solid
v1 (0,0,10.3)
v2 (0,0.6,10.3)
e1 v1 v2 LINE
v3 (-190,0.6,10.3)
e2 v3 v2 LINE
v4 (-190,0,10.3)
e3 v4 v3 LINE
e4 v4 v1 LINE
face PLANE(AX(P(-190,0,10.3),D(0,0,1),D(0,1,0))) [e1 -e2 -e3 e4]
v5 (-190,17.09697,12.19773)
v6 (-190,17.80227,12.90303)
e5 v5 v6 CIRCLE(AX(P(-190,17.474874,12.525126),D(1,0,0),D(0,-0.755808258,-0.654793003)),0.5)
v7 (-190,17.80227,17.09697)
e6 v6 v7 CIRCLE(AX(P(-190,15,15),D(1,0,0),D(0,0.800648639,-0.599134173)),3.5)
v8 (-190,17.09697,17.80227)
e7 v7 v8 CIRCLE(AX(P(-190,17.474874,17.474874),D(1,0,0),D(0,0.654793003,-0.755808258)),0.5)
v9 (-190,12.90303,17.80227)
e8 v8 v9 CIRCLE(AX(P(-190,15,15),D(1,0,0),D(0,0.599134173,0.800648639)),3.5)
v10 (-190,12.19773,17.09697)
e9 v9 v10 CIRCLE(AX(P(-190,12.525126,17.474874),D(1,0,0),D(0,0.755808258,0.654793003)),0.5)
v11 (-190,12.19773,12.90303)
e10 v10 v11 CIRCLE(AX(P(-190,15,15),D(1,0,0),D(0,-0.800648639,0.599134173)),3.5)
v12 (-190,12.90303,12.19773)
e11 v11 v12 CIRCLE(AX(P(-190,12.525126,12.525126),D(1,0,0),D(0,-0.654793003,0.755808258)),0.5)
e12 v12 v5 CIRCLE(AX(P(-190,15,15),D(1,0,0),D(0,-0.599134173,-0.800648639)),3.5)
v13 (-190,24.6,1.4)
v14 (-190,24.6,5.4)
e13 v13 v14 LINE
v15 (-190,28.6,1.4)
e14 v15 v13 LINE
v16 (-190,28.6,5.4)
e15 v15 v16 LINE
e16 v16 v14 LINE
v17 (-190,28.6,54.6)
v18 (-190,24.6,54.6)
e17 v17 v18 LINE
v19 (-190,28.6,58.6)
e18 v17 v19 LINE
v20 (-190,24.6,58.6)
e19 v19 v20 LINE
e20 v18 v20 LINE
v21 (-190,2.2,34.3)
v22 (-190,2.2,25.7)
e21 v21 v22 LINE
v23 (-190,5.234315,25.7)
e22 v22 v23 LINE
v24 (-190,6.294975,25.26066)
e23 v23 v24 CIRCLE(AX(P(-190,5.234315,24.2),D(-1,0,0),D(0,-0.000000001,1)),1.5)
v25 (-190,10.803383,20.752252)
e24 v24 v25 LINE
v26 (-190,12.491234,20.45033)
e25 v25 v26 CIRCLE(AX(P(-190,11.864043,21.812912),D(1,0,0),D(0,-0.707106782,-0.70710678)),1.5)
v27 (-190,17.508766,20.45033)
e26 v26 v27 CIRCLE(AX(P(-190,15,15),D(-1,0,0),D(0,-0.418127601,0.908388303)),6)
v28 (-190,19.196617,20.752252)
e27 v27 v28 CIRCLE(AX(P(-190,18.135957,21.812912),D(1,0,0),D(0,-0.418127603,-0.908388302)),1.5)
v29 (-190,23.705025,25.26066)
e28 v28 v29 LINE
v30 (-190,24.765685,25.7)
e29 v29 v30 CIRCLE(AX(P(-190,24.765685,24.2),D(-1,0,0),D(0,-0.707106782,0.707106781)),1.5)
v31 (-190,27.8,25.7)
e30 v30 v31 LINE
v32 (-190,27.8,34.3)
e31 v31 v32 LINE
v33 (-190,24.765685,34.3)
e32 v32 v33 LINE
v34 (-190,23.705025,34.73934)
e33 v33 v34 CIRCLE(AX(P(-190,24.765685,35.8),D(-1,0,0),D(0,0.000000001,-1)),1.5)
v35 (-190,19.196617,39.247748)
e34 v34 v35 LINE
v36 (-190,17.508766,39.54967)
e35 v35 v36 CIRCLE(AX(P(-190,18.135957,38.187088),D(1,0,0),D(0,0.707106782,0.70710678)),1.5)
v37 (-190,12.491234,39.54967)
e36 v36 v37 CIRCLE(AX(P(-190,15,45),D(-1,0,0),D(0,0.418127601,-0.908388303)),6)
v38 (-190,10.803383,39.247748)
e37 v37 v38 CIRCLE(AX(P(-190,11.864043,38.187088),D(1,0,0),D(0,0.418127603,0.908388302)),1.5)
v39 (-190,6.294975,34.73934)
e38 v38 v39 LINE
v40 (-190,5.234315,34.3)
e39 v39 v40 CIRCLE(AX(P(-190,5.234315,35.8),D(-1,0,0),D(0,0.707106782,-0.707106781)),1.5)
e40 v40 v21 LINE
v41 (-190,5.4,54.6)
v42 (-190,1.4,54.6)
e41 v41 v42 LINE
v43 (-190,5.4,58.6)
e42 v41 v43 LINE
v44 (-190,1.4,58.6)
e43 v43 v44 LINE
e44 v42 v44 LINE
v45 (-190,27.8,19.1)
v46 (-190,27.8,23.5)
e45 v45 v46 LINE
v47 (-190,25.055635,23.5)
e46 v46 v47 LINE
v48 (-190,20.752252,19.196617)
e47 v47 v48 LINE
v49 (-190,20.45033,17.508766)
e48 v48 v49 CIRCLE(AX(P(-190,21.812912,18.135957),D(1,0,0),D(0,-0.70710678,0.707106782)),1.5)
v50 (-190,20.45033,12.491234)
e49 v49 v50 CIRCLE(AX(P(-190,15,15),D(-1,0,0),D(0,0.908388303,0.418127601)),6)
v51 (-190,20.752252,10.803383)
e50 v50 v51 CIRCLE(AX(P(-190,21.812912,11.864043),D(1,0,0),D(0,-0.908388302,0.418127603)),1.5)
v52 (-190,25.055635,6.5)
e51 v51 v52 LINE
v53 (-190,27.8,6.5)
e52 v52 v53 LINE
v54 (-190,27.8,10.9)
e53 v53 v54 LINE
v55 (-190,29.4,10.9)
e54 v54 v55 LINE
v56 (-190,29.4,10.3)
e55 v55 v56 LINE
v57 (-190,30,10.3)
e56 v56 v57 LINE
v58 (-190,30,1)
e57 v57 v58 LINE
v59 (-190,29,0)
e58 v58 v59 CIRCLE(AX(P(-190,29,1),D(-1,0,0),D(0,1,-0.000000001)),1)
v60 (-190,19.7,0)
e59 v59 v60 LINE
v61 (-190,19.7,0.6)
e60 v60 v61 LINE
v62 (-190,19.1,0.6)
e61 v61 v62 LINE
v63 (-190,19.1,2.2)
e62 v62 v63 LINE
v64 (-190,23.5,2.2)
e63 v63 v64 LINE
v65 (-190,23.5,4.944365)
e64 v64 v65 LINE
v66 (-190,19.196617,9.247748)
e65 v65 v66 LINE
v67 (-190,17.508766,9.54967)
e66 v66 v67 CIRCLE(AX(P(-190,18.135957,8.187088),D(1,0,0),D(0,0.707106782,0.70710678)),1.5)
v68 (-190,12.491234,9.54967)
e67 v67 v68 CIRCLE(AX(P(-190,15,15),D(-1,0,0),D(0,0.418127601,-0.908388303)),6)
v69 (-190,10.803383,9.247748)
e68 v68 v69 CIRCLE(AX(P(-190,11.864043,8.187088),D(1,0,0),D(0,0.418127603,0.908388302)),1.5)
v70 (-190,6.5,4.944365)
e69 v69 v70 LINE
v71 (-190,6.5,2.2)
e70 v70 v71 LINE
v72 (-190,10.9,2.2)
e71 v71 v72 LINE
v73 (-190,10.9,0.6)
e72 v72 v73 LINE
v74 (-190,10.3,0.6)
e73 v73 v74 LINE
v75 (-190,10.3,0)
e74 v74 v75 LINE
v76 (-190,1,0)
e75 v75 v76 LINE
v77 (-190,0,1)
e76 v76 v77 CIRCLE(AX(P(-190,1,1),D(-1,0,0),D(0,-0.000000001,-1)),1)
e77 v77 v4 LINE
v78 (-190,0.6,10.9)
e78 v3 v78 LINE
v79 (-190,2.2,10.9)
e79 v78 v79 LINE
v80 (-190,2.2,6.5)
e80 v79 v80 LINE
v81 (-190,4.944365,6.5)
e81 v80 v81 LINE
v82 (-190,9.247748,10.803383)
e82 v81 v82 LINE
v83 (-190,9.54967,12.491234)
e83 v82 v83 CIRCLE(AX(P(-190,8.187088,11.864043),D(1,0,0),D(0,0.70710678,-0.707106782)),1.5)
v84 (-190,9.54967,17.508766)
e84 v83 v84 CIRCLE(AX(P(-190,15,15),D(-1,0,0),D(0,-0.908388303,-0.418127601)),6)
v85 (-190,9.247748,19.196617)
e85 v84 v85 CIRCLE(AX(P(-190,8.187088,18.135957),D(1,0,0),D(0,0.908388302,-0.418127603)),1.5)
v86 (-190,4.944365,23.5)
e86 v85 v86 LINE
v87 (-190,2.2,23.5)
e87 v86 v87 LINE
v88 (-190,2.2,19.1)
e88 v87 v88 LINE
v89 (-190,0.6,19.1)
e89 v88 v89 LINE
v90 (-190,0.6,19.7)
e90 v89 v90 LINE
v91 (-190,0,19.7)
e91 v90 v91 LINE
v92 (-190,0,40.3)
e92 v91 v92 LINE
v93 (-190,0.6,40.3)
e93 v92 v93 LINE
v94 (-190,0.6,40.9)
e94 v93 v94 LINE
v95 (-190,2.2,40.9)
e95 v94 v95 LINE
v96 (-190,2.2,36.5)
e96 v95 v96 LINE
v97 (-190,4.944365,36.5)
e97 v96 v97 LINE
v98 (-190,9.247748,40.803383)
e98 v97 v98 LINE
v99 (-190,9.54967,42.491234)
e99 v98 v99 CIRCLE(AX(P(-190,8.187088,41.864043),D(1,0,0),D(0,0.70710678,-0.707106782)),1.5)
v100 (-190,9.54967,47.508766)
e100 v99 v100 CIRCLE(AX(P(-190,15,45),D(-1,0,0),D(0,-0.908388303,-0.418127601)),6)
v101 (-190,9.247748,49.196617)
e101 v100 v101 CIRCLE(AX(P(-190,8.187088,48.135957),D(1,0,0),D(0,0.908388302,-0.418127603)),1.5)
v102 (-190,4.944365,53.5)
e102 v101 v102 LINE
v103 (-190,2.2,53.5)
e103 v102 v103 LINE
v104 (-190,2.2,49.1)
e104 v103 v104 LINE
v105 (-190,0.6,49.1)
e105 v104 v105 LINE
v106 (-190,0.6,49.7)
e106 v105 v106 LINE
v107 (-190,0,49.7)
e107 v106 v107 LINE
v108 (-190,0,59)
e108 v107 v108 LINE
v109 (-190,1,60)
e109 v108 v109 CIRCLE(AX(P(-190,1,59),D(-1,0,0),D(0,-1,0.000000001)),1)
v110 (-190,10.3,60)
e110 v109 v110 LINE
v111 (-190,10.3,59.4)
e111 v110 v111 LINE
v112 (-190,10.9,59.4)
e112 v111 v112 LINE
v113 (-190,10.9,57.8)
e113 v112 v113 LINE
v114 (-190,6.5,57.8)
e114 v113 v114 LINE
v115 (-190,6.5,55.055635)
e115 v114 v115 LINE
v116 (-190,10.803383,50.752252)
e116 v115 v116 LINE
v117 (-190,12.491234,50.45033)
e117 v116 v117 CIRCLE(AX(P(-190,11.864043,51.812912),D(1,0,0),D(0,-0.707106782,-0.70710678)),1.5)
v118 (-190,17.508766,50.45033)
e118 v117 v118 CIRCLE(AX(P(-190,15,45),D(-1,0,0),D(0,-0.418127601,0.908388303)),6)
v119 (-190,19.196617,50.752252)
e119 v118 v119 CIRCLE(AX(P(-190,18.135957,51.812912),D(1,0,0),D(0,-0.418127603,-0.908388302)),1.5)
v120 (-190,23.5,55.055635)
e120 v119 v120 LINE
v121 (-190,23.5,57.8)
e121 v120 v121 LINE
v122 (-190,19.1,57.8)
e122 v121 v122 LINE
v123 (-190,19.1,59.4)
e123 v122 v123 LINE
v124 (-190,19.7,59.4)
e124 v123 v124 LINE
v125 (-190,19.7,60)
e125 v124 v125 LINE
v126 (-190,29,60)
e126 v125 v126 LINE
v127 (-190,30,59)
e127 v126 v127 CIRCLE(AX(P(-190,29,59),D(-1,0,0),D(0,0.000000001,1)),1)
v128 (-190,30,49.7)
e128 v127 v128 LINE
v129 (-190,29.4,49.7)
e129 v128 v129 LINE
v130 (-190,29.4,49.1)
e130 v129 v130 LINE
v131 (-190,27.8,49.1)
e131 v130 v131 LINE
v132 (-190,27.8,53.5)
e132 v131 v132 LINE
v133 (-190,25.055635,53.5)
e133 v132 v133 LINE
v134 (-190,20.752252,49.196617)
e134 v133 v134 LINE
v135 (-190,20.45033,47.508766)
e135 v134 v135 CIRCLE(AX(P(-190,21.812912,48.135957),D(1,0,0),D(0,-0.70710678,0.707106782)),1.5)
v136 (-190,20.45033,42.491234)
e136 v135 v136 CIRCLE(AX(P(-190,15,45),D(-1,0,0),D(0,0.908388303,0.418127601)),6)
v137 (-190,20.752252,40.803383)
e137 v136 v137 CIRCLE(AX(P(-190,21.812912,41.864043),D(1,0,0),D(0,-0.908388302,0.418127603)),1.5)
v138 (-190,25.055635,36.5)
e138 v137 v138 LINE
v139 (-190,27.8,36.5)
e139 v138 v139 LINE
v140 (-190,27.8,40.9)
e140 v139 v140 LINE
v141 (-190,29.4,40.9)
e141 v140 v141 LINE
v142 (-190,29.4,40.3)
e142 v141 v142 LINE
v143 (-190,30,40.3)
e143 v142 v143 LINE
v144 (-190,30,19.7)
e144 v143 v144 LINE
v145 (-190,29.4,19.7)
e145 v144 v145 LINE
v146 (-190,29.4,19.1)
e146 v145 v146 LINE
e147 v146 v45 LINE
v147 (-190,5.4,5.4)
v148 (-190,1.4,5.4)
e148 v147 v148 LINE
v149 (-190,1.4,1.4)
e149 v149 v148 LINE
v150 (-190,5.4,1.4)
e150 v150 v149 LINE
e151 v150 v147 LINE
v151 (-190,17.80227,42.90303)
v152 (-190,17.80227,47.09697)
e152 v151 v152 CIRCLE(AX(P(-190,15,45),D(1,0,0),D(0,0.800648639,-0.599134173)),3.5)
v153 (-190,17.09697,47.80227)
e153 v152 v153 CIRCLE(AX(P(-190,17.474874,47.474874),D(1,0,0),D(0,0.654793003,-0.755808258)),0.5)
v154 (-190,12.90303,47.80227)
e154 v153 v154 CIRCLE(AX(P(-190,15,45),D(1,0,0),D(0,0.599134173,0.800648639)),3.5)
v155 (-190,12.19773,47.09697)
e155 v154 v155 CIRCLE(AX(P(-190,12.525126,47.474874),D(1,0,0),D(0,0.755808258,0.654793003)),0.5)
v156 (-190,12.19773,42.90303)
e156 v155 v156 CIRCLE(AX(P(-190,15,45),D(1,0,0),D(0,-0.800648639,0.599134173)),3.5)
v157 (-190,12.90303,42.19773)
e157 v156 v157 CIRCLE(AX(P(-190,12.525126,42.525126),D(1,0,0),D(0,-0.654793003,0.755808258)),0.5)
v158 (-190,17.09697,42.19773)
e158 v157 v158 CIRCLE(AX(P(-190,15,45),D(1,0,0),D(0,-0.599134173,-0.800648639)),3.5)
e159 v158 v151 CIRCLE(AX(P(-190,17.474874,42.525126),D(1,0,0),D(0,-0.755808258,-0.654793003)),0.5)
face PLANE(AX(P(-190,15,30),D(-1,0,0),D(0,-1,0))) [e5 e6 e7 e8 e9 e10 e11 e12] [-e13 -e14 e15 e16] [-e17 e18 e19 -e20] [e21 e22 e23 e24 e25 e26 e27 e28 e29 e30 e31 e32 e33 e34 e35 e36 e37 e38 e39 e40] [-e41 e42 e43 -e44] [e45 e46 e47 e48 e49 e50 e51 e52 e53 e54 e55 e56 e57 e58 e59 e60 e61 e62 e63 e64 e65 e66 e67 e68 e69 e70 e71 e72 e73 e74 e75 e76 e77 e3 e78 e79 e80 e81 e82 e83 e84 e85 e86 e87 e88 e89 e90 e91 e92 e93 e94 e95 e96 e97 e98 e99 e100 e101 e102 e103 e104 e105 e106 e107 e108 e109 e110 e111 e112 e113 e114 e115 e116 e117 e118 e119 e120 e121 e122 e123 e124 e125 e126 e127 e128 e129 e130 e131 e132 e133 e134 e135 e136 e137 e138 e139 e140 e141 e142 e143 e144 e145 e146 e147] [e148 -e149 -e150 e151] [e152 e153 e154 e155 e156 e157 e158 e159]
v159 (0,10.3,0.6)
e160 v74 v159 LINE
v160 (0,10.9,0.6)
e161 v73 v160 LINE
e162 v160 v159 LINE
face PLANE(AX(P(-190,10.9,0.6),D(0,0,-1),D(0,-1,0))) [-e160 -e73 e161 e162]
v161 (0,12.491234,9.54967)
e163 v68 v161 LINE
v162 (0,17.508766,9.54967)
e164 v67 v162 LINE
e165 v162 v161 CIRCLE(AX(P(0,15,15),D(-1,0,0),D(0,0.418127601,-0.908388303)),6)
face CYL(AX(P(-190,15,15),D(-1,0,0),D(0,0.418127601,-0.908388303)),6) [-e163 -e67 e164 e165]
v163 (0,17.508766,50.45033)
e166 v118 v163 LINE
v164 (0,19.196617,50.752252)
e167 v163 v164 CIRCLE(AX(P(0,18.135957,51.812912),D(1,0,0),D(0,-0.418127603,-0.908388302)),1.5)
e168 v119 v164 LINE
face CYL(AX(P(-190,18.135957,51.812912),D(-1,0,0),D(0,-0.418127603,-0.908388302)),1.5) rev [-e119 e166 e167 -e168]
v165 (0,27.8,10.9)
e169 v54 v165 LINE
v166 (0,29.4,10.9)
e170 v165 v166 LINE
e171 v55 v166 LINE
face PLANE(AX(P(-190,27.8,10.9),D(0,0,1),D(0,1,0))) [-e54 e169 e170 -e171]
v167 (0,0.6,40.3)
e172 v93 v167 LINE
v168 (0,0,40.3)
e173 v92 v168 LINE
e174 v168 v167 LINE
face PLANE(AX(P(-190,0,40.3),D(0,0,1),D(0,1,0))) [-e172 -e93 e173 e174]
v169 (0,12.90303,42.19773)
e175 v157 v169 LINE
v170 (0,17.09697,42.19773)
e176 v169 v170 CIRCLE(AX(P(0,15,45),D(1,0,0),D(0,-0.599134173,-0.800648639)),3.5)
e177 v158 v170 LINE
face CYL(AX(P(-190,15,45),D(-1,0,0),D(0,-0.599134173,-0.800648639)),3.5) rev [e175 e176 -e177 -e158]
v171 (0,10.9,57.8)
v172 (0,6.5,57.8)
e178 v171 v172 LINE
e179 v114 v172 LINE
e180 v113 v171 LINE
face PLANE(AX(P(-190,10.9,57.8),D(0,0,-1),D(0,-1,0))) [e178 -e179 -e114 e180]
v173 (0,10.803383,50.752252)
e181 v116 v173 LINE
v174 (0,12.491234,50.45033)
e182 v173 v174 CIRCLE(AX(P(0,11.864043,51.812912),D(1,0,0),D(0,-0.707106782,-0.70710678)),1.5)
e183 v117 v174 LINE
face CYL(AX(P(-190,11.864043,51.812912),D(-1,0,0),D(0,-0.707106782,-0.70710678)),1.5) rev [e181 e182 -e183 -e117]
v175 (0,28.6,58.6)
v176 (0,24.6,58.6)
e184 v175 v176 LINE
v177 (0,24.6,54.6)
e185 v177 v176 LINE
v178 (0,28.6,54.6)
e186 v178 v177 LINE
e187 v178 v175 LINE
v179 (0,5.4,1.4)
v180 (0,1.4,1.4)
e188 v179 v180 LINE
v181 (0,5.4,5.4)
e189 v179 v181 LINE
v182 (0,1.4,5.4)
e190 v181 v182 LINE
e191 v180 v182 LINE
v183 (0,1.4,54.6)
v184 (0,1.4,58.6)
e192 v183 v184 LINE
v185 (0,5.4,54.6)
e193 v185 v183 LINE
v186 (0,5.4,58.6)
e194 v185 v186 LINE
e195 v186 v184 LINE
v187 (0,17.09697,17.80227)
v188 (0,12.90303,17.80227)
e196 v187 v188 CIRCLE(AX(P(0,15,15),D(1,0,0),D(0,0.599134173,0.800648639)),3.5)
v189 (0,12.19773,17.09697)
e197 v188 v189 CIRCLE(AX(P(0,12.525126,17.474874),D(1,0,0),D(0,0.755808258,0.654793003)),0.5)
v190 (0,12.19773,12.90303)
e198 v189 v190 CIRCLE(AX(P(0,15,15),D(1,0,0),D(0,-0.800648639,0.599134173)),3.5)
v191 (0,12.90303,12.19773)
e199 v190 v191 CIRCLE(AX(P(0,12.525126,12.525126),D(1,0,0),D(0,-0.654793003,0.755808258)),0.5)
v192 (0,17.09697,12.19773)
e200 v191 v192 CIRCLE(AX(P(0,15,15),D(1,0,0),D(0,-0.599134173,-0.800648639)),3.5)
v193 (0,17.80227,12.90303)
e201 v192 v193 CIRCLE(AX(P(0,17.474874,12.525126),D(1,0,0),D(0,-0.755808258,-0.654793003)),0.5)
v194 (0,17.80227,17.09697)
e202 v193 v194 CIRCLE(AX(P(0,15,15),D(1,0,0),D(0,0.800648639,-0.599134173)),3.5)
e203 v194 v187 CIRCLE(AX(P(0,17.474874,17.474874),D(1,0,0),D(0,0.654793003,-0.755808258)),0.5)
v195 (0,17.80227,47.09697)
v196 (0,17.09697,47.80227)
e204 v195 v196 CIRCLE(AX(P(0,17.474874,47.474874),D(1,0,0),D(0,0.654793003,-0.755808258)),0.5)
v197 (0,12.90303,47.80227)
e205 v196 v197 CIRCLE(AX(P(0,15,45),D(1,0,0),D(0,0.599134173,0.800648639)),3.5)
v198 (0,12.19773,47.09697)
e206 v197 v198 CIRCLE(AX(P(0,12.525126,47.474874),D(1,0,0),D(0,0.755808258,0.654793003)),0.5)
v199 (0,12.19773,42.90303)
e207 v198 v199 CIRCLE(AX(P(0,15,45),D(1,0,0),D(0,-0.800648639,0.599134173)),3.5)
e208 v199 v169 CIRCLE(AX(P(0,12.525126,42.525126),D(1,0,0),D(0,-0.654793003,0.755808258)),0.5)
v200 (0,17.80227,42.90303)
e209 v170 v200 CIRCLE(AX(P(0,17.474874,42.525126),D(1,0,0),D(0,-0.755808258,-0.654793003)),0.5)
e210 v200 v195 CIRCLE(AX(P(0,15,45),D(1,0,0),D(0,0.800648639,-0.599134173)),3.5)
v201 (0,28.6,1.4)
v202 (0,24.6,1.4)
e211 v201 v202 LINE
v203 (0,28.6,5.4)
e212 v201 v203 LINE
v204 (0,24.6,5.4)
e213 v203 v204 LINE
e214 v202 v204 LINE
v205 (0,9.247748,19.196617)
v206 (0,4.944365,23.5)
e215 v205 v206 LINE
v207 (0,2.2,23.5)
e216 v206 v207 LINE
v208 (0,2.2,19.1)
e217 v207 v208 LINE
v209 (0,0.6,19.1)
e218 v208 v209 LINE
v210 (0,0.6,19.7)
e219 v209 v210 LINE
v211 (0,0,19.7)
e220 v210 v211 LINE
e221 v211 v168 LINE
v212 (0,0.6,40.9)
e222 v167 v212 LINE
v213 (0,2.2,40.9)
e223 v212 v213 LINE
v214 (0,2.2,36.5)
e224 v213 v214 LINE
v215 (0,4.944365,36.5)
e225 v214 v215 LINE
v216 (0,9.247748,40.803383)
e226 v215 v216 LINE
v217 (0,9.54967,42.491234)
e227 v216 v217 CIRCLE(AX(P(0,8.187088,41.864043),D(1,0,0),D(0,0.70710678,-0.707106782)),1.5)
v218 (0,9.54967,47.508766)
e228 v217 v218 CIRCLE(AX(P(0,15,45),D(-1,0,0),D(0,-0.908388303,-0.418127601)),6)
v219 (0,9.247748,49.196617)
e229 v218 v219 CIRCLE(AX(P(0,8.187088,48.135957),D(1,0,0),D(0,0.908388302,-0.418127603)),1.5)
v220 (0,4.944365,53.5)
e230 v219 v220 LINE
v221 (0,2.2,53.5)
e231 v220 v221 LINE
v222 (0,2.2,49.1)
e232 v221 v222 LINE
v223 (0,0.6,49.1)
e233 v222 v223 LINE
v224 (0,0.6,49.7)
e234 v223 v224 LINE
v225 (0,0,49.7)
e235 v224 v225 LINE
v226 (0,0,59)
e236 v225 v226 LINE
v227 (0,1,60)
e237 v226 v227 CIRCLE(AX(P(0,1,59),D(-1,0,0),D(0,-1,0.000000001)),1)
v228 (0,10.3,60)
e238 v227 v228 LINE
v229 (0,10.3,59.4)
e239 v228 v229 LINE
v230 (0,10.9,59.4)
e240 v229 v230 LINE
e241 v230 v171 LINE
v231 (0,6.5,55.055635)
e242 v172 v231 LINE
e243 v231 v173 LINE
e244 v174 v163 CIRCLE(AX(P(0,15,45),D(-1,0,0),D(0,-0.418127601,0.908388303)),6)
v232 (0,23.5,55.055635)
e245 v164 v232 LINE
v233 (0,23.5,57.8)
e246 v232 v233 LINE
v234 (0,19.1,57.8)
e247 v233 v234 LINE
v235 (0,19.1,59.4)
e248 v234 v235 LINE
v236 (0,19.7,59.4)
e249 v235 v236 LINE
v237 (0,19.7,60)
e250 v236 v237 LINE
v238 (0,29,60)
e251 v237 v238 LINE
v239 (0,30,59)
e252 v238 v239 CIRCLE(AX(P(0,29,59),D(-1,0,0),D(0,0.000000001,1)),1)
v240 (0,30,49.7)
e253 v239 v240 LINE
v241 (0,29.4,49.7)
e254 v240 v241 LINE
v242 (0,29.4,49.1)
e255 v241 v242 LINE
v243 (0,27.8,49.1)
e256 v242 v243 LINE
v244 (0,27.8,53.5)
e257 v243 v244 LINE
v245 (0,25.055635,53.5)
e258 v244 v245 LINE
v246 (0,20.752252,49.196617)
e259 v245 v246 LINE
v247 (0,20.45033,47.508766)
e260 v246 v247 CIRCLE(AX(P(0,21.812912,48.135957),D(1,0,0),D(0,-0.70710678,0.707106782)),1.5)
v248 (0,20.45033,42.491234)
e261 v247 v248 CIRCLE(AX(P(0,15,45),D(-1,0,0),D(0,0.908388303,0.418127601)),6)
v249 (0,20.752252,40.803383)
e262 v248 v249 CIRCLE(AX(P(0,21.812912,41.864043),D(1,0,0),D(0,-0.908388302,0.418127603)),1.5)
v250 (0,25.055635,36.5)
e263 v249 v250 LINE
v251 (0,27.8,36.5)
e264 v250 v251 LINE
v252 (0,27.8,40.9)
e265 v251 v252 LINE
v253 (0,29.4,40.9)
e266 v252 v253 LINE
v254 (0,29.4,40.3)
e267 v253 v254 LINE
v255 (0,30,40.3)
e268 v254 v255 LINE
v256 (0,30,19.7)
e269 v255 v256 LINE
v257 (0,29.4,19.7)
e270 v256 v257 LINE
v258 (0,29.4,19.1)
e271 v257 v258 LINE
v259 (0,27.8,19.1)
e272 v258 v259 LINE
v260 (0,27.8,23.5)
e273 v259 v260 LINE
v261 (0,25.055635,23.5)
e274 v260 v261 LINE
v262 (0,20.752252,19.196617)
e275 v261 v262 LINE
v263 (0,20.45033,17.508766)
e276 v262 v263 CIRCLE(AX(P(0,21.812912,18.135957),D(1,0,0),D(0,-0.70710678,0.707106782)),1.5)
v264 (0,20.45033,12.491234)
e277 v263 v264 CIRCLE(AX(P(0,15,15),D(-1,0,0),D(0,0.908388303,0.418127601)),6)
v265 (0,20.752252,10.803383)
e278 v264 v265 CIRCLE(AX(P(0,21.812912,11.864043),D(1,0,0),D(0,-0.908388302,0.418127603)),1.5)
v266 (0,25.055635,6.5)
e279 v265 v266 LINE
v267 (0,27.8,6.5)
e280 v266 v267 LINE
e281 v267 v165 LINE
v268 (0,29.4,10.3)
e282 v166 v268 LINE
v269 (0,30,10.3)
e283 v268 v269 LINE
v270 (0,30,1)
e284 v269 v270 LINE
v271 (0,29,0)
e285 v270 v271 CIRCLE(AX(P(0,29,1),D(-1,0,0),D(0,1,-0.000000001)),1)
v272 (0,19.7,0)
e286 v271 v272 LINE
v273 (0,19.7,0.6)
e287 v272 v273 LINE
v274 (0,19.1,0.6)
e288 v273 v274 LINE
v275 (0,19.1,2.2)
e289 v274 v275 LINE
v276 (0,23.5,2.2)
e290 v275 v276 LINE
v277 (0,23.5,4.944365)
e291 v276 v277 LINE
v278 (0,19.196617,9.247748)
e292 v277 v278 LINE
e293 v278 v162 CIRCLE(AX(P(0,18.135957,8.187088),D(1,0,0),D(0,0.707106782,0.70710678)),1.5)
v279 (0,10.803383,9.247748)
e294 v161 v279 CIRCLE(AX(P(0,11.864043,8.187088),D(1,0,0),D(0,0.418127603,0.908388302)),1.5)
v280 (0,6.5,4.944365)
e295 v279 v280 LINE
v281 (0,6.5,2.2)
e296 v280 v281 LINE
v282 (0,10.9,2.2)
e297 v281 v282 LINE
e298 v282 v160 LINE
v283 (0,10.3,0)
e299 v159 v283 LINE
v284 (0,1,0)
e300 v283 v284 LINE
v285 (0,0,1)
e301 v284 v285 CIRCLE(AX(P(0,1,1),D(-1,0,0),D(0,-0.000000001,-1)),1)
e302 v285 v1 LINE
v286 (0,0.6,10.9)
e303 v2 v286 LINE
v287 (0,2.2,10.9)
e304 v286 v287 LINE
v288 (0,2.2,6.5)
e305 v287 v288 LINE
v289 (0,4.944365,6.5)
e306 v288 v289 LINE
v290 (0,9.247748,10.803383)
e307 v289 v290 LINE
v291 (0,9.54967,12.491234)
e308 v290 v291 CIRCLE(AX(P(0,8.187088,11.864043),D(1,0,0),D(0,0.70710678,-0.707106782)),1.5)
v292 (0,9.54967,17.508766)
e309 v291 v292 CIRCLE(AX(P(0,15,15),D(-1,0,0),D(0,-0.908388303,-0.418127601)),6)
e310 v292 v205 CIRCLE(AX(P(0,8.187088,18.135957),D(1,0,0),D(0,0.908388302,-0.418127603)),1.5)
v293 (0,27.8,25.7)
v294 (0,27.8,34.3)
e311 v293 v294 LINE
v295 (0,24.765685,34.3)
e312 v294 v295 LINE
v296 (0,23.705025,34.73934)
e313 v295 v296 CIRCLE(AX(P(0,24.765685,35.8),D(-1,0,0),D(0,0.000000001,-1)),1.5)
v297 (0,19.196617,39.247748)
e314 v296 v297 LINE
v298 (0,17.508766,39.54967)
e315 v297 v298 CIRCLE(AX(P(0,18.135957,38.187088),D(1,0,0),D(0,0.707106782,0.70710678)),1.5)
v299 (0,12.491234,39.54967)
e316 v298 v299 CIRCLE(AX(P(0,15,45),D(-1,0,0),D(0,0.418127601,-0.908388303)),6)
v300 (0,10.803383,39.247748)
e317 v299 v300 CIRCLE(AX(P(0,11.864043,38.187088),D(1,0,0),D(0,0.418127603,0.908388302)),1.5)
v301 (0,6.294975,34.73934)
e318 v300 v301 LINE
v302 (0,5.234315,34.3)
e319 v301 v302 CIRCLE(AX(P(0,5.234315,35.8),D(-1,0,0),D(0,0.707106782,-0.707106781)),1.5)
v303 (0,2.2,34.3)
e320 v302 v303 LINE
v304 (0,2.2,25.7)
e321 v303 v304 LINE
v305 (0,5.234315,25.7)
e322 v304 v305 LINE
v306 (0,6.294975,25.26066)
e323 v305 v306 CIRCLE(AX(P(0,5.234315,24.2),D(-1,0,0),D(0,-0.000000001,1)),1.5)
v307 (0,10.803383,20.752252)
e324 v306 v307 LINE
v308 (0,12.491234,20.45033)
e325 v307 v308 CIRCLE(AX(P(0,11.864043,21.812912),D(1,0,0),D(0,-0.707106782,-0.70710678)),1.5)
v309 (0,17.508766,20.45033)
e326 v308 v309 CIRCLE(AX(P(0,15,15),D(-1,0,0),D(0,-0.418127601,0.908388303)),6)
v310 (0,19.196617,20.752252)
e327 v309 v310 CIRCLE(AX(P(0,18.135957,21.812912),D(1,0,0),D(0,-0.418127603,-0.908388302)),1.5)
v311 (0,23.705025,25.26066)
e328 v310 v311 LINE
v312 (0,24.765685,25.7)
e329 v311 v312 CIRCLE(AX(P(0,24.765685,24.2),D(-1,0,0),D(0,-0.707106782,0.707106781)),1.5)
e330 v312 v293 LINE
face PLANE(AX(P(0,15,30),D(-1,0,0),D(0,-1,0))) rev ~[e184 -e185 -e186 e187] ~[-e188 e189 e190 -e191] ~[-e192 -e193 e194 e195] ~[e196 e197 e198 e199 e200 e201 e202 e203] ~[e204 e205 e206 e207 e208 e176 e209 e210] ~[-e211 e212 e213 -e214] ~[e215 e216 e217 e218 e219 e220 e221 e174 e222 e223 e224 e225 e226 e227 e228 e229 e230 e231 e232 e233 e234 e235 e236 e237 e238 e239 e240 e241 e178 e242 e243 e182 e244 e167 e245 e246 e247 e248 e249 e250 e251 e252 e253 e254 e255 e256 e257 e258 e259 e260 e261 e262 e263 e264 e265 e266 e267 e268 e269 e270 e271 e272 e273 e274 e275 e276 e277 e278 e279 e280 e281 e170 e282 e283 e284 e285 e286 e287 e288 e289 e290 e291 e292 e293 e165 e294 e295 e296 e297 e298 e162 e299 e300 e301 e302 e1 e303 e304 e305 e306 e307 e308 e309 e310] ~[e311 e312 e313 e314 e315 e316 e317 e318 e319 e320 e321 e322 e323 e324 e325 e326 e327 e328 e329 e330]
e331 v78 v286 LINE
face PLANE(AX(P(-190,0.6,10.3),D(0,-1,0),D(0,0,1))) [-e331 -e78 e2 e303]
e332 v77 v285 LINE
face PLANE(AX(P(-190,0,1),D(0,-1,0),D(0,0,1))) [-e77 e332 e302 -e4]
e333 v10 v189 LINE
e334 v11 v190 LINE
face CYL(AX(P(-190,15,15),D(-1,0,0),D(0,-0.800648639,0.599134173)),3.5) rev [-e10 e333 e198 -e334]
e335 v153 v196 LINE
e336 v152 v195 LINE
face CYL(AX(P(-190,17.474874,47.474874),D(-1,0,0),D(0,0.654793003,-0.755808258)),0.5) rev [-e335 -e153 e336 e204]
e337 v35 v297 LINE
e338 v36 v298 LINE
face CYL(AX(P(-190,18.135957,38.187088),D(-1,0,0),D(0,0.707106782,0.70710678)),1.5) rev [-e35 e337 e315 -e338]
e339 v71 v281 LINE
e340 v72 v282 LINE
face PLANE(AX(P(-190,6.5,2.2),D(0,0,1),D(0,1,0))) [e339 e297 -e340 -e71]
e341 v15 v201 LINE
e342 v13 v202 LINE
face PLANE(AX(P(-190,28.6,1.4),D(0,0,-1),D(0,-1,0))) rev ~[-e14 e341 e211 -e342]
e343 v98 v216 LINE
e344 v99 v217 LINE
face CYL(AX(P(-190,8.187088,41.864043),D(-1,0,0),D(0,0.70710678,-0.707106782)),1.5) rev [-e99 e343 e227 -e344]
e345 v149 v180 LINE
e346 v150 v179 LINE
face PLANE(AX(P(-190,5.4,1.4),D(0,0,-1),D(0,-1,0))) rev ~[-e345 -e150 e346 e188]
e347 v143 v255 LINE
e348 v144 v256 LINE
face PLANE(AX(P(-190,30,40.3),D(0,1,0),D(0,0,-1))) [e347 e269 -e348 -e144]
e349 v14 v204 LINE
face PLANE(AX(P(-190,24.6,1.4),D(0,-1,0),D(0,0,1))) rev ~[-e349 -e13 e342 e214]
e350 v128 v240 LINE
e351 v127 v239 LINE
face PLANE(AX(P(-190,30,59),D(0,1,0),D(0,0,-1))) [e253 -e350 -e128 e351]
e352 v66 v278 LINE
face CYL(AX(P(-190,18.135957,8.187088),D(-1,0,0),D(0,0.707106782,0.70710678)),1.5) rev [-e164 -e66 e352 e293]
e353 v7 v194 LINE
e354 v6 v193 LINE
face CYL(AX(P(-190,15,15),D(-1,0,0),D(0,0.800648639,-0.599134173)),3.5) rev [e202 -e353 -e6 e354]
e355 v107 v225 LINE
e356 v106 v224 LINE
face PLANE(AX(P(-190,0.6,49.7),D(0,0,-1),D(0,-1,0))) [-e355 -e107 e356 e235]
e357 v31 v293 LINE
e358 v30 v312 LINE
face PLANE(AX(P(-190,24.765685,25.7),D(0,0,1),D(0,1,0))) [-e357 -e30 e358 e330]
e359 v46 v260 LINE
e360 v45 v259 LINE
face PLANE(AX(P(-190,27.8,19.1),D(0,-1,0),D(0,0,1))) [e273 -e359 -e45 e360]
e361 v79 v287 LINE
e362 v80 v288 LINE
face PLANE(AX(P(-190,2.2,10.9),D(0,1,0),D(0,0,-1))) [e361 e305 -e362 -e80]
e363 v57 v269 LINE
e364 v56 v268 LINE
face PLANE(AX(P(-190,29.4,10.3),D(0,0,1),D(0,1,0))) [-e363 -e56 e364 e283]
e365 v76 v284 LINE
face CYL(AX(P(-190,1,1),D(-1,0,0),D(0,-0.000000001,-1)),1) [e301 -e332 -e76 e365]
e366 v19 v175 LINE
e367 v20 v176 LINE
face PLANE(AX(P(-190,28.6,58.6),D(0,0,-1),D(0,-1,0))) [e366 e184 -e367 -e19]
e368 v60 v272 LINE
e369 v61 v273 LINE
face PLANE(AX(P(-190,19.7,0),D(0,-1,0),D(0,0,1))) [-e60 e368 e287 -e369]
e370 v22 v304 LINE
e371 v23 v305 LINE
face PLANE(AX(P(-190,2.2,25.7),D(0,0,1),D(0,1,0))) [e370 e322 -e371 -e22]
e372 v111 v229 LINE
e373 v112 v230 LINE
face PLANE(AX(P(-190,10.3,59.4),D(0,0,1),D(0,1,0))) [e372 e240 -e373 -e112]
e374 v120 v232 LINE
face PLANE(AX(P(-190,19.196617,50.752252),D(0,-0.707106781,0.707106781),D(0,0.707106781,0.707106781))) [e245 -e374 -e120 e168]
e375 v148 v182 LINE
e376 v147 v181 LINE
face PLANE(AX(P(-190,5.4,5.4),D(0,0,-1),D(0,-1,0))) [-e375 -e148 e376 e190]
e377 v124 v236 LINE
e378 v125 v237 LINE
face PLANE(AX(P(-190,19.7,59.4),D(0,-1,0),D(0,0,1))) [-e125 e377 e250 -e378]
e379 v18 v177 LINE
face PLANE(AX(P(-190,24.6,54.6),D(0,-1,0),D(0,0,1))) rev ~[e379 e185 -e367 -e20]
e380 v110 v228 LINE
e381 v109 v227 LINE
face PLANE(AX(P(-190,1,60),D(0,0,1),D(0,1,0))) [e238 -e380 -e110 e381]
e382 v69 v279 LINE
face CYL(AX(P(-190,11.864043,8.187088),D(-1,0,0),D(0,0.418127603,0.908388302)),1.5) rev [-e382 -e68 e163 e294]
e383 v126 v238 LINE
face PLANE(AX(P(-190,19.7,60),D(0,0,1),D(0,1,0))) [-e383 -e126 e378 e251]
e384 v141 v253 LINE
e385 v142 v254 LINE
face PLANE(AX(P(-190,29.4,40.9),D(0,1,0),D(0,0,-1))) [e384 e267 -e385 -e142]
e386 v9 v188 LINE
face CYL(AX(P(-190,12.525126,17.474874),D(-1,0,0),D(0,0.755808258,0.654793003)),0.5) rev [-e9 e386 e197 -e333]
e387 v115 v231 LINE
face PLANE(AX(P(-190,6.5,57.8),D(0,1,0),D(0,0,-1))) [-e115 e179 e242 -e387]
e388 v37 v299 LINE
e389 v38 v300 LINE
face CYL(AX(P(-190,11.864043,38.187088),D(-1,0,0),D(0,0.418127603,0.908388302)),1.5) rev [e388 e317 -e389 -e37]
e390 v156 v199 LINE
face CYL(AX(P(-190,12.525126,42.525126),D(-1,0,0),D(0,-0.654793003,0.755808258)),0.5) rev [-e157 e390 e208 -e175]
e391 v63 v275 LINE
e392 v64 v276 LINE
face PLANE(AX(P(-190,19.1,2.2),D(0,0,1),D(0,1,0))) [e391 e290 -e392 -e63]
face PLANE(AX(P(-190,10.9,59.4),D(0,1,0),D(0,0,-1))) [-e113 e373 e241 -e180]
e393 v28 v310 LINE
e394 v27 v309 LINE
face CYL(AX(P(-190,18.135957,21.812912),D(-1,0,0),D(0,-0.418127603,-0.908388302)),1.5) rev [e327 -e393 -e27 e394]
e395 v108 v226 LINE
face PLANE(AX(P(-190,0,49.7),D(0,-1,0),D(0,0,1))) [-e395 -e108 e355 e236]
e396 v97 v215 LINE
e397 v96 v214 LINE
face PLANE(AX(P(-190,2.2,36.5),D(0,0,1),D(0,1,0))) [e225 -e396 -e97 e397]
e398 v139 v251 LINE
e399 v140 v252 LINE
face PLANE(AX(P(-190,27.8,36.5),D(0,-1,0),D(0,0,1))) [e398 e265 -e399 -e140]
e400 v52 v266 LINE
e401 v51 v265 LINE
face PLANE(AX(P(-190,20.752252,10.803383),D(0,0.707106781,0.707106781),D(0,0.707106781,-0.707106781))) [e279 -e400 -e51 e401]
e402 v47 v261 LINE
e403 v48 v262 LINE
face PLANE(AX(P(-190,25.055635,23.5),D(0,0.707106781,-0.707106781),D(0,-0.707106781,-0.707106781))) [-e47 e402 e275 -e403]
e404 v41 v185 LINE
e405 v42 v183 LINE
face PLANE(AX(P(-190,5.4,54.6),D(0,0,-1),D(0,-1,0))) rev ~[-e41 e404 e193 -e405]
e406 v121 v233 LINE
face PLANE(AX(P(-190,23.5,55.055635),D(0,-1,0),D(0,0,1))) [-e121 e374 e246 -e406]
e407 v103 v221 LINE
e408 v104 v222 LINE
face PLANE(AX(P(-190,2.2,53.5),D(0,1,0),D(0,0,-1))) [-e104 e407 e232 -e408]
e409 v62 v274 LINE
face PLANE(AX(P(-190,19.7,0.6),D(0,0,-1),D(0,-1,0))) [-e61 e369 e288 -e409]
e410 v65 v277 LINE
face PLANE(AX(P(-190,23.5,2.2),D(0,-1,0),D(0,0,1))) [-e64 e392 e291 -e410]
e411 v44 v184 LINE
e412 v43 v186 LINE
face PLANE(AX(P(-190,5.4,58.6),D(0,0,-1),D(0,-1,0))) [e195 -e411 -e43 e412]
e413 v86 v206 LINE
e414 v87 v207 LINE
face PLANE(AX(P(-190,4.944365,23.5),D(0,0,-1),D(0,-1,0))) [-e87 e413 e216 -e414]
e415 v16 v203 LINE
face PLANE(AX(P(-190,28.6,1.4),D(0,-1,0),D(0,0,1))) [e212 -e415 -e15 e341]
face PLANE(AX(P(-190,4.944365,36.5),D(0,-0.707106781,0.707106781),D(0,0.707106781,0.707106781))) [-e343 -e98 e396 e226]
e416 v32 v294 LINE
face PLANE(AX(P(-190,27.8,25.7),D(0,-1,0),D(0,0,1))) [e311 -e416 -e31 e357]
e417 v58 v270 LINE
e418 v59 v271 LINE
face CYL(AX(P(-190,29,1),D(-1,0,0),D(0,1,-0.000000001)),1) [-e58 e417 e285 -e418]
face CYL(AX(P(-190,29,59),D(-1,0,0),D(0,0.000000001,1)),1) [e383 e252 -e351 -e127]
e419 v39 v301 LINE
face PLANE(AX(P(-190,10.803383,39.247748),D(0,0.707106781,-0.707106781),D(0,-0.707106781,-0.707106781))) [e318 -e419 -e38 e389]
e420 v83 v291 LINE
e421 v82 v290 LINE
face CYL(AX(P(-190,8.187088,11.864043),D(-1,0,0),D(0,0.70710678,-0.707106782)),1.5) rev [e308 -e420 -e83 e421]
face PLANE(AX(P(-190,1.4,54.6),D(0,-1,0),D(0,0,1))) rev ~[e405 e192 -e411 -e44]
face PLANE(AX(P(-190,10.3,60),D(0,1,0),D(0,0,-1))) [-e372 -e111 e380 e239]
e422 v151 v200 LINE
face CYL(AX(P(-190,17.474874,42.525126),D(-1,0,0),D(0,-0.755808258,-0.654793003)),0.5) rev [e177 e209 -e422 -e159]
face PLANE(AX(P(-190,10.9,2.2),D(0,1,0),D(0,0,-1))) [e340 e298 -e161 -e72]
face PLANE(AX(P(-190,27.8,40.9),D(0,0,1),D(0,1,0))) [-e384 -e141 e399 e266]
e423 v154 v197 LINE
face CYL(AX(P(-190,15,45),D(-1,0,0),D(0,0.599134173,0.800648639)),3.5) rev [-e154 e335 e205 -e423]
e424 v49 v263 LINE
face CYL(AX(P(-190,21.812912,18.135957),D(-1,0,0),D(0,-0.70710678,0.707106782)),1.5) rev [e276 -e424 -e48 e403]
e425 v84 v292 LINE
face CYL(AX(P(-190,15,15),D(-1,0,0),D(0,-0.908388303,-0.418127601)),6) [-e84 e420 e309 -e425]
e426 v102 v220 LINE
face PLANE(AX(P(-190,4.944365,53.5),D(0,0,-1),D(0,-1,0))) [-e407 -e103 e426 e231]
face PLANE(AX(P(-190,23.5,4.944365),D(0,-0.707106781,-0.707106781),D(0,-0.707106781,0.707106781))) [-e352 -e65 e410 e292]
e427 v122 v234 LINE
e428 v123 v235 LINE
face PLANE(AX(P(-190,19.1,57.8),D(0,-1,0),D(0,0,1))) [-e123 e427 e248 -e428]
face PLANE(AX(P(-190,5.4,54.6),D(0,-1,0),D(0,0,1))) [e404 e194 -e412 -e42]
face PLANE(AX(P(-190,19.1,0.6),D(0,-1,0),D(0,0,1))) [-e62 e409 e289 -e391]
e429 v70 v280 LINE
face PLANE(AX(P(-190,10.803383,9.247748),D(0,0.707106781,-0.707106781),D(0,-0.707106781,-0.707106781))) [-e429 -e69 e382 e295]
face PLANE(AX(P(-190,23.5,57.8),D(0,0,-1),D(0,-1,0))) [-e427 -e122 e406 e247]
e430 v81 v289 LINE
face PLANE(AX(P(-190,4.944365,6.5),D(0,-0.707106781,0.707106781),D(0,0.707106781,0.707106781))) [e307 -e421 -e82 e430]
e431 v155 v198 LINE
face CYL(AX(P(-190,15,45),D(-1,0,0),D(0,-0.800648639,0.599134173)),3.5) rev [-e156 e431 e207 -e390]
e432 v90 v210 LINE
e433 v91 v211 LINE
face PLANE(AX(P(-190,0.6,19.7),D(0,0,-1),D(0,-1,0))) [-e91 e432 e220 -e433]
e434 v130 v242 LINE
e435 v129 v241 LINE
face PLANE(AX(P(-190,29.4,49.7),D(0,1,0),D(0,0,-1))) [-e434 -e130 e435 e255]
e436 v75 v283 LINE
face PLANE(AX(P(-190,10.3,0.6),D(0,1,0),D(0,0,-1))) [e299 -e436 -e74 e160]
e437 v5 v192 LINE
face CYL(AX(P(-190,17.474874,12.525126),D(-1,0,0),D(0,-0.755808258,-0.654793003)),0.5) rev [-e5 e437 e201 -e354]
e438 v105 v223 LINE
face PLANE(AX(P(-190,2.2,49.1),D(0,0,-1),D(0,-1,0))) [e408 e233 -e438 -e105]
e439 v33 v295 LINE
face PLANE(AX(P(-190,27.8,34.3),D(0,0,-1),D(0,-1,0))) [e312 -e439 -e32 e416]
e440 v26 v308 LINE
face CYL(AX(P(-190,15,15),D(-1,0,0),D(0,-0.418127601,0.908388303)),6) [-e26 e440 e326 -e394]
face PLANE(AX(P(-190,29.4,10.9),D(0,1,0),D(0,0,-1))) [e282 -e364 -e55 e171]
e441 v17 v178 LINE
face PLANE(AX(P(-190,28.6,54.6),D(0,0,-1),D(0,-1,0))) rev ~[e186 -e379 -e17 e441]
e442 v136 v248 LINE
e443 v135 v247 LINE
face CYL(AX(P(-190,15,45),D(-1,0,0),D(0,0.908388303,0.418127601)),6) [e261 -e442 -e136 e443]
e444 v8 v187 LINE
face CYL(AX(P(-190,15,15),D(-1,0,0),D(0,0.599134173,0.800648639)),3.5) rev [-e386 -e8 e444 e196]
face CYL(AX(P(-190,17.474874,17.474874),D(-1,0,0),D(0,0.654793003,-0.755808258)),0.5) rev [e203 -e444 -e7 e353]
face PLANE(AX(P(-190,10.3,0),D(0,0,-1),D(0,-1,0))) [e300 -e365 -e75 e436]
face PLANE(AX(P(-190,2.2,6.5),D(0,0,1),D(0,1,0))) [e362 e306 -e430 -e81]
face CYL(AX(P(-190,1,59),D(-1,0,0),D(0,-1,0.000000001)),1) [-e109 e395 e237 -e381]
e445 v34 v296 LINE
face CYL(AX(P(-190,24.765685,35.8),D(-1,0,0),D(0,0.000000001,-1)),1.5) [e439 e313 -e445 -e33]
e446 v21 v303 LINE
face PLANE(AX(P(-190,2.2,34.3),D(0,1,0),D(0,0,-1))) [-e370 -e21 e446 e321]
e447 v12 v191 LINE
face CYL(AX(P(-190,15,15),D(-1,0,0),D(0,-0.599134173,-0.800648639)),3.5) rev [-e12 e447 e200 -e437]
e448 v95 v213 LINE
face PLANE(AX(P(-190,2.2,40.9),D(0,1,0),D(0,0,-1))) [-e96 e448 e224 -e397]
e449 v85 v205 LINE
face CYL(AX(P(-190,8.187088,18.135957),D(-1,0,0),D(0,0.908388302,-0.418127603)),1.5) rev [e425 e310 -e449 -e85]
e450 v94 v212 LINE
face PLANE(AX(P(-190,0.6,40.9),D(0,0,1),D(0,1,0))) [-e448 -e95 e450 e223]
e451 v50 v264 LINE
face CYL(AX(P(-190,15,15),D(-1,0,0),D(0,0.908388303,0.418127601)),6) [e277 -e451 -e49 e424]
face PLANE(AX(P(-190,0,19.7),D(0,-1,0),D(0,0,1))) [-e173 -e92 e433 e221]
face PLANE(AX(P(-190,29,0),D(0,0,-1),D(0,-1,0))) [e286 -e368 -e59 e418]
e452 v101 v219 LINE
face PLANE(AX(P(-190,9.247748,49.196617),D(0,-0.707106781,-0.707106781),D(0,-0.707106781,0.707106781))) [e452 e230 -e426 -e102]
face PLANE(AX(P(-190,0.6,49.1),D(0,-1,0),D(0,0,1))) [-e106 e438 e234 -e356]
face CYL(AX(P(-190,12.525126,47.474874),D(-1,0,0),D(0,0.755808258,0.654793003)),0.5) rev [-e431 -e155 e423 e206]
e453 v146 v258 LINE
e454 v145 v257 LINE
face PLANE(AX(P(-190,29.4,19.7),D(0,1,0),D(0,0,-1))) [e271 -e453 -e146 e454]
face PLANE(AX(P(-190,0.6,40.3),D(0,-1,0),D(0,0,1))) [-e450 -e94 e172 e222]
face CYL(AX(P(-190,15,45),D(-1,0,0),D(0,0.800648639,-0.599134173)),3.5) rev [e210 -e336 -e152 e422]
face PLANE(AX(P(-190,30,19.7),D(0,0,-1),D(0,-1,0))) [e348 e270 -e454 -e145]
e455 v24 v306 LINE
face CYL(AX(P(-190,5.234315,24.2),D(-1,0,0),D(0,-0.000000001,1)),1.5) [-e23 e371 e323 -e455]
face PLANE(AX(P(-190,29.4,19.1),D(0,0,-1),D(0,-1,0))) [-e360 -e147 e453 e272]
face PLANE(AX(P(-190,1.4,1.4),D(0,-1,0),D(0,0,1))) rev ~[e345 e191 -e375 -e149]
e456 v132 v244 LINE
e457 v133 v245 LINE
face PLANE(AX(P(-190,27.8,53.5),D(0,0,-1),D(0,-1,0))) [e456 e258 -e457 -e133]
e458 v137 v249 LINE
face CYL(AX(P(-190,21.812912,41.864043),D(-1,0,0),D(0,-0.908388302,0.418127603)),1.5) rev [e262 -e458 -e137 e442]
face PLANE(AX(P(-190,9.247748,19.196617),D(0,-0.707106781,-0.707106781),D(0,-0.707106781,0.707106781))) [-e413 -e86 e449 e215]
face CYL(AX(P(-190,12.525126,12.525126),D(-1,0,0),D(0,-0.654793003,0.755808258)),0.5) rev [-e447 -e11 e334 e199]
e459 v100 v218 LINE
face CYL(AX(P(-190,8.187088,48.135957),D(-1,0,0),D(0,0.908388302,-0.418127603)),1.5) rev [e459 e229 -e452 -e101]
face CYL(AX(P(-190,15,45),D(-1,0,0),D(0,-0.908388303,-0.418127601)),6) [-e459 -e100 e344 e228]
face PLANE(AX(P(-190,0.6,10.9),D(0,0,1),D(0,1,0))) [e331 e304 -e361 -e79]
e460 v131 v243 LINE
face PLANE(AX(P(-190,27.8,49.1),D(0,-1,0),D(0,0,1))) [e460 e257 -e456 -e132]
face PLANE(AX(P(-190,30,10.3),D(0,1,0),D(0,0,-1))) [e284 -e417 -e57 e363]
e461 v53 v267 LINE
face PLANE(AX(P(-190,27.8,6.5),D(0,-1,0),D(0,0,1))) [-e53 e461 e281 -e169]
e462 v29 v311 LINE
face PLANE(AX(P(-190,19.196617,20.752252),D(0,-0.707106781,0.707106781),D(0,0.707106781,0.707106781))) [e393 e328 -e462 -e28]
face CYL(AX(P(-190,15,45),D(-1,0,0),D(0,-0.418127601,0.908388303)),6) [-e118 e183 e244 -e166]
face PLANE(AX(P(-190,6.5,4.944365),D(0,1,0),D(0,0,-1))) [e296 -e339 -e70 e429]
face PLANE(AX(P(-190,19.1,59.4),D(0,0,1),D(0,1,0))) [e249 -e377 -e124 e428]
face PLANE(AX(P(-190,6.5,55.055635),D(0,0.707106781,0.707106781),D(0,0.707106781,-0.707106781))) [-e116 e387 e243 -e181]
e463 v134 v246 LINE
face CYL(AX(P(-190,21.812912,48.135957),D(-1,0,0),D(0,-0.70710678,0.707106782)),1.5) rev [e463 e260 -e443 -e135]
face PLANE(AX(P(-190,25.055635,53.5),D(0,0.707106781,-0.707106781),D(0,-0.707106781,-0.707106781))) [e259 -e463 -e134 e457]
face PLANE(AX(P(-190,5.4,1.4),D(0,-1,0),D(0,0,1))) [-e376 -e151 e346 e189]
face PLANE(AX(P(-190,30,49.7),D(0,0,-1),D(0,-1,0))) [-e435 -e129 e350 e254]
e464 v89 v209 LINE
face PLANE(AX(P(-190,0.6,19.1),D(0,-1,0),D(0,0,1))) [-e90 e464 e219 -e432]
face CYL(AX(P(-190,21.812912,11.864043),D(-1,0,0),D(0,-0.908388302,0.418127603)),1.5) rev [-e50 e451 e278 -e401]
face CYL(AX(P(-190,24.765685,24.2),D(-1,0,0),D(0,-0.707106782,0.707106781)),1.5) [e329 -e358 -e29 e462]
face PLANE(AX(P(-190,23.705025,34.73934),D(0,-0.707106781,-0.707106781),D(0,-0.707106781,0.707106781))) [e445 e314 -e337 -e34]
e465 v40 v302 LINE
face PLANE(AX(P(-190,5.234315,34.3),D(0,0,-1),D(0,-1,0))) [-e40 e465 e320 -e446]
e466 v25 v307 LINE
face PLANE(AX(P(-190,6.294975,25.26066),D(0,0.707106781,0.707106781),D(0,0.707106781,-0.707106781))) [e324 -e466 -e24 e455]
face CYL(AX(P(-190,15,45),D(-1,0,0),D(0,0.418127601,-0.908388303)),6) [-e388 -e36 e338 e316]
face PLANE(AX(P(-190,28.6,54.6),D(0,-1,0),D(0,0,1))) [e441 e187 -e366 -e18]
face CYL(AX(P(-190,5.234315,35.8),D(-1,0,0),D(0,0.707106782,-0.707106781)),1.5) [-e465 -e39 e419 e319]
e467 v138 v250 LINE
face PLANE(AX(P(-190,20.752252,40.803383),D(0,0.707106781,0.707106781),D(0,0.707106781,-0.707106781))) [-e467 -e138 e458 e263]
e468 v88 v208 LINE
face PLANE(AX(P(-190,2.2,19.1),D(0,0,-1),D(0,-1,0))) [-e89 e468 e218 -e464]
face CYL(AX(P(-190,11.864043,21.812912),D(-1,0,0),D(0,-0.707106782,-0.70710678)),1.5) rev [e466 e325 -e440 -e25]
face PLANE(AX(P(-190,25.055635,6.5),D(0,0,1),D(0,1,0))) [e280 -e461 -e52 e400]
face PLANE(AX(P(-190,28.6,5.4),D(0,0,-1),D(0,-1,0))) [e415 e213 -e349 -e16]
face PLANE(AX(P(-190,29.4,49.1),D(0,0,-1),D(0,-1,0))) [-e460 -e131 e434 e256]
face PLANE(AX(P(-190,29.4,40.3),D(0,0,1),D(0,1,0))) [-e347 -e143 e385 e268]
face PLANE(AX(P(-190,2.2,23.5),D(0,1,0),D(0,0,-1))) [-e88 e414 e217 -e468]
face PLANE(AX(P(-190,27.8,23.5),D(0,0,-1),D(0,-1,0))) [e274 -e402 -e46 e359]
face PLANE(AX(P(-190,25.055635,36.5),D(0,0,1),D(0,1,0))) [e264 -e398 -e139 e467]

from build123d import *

# Parameters (mm, degrees)
SKETCH1_W           = 4
SKETCH1_H           = 4
BOSS_EXTRUDE1_DEPTH = 190


with BuildPart() as part:
    # Sketch1 → Boss-Extrude1 (new body)
    with BuildSketch(Plane(origin=(-190, 0, 0), x_dir=(0, -1, 0), z_dir=(-1, 0, 0))):
        with BuildLine():
            Line((-20.752252101, 10.803382818), (-25.055634919, 6.5))
            Line((-25.055634919, 6.5), (-27.8, 6.5))
            Line((-27.8, 6.5), (-27.8, 10.9))
            Line((-27.8, 10.9), (-29.4, 10.9))
            Line((-29.4, 10.9), (-29.4, 10.3))
            Line((-29.4, 10.3), (-30, 10.3))
            Line((-30, 10.3), (-30, 1))
            ThreePointArc((-30, 1), (-29.707106781, 0.292893219), (-29, 0))
            Line((-29, 0), (-19.7, 0))
            Line((-19.7, 0), (-19.7, 0.6))
            Line((-19.7, 0.6), (-19.1, 0.6))
            Line((-19.1, 0.6), (-19.1, 2.2))
            Line((-19.1, 2.2), (-23.5, 2.2))
            Line((-23.5, 2.2), (-23.5, 4.944365081))
            Line((-23.5, 4.944365081), (-19.196617182, 9.247747899))
            ThreePointArc((-19.196617182, 9.247747899), (-18.400083987, 9.66365027), (-17.508765608, 9.549670182))
            ThreePointArc((-17.508765608, 9.549670182), (-15, 9), (-12.491234392, 9.549670182))
            ThreePointArc((-12.491234392, 9.549670182), (-11.599916013, 9.66365027), (-10.803382818, 9.247747899))
            Line((-10.803382818, 9.247747899), (-6.5, 4.944365081))
            Line((-6.5, 4.944365081), (-6.5, 2.2))
            Line((-6.5, 2.2), (-10.9, 2.2))
            Line((-10.9, 2.2), (-10.9, 0.6))
            Line((-10.9, 0.6), (-10.3, 0.6))
            Line((-10.3, 0.6), (-10.3, 0))
            Line((-10.3, 0), (-1, 0))
            ThreePointArc((-1, 0), (-0.292893219, 0.292893219), (0, 1))
            Line((0, 1), (0, 10.3))
            Line((0, 10.3), (-0.6, 10.3))
            Line((-0.6, 10.3), (-0.6, 10.9))
            Line((-0.6, 10.9), (-2.2, 10.9))
            Line((-2.2, 10.9), (-2.2, 6.5))
            Line((-2.2, 6.5), (-4.944365081, 6.5))
            Line((-4.944365081, 6.5), (-9.247747899, 10.803382818))
            ThreePointArc((-9.247747899, 10.803382818), (-9.66365027, 11.599916013), (-9.549670182, 12.491234392))
            ThreePointArc((-9.549670182, 12.491234392), (-9, 15), (-9.549670182, 17.508765608))
            ThreePointArc((-9.549670182, 17.508765608), (-9.66365027, 18.400083987), (-9.247747899, 19.196617182))
            Line((-9.247747899, 19.196617182), (-4.944365081, 23.5))
            Line((-4.944365081, 23.5), (-2.2, 23.5))
            Line((-2.2, 23.5), (-2.2, 19.1))
            Line((-2.2, 19.1), (-0.6, 19.1))
            Line((-0.6, 19.1), (-0.6, 19.7))
            Line((-0.6, 19.7), (0, 19.7))
            Line((0, 19.7), (0, 40.3))
            Line((0, 40.3), (-0.6, 40.3))
            Line((-0.6, 40.3), (-0.6, 40.9))
            Line((-0.6, 40.9), (-2.2, 40.9))
            Line((-2.2, 40.9), (-2.2, 36.5))
            Line((-2.2, 36.5), (-4.944365081, 36.5))
            Line((-4.944365081, 36.5), (-9.247747899, 40.803382818))
            ThreePointArc((-9.247747899, 40.803382818), (-9.66365027, 41.599916013), (-9.549670182, 42.491234392))
            ThreePointArc((-9.549670182, 42.491234392), (-9, 45), (-9.549670182, 47.508765608))
            ThreePointArc((-9.549670182, 47.508765608), (-9.66365027, 48.400083987), (-9.247747899, 49.196617182))
            Line((-9.247747899, 49.196617182), (-4.944365081, 53.5))
            Line((-4.944365081, 53.5), (-2.2, 53.5))
            Line((-2.2, 53.5), (-2.2, 49.1))
            Line((-2.2, 49.1), (-0.6, 49.1))
            Line((-0.6, 49.1), (-0.6, 49.7))
            Line((-0.6, 49.7), (0, 49.7))
            Line((0, 49.7), (0, 59))
            ThreePointArc((0, 59), (-0.292893219, 59.707106781), (-1, 60))
            Line((-1, 60), (-10.3, 60))
            Line((-10.3, 60), (-10.3, 59.4))
            Line((-10.3, 59.4), (-10.9, 59.4))
            Line((-10.9, 59.4), (-10.9, 57.8))
            Line((-10.9, 57.8), (-6.5, 57.8))
            Line((-6.5, 57.8), (-6.5, 55.055634919))
            Line((-6.5, 55.055634919), (-10.803382818, 50.752252101))
            ThreePointArc((-10.803382818, 50.752252101), (-11.599916013, 50.33634973), (-12.491234392, 50.450329818))
            ThreePointArc((-12.491234392, 50.450329818), (-15, 51), (-17.508765608, 50.450329818))
            ThreePointArc((-17.508765608, 50.450329818), (-18.400083987, 50.33634973), (-19.196617182, 50.752252101))
            Line((-19.196617182, 50.752252101), (-23.5, 55.055634919))
            Line((-23.5, 55.055634919), (-23.5, 57.8))
            Line((-23.5, 57.8), (-19.1, 57.8))
            Line((-19.1, 57.8), (-19.1, 59.4))
            Line((-19.1, 59.4), (-19.7, 59.4))
            Line((-19.7, 59.4), (-19.7, 60))
            Line((-19.7, 60), (-29, 60))
            ThreePointArc((-29, 60), (-29.707106781, 59.707106781), (-30, 59))
            Line((-30, 59), (-30, 49.7))
            Line((-30, 49.7), (-29.4, 49.7))
            Line((-29.4, 49.7), (-29.4, 49.1))
            Line((-29.4, 49.1), (-27.8, 49.1))
            Line((-27.8, 49.1), (-27.8, 53.5))
            Line((-27.8, 53.5), (-25.055634919, 53.5))
            Line((-25.055634919, 53.5), (-20.752252101, 49.196617182))
            ThreePointArc((-20.752252101, 49.196617182), (-20.33634973, 48.400083987), (-20.450329818, 47.508765608))
            ThreePointArc((-20.450329818, 47.508765608), (-21, 45), (-20.450329818, 42.491234392))
            ThreePointArc((-20.450329818, 42.491234392), (-20.33634973, 41.599916013), (-20.752252101, 40.803382818))
            Line((-20.752252101, 40.803382818), (-25.055634919, 36.5))
            Line((-25.055634919, 36.5), (-27.8, 36.5))
            Line((-27.8, 36.5), (-27.8, 40.9))
            Line((-27.8, 40.9), (-29.4, 40.9))
            Line((-29.4, 40.9), (-29.4, 40.3))
            Line((-29.4, 40.3), (-30, 40.3))
            Line((-30, 40.3), (-30, 19.7))
            Line((-30, 19.7), (-29.4, 19.7))
            Line((-29.4, 19.7), (-29.4, 19.1))
            Line((-29.4, 19.1), (-27.8, 19.1))
            Line((-27.8, 19.1), (-27.8, 23.5))
            Line((-27.8, 23.5), (-25.055634919, 23.5))
            Line((-25.055634919, 23.5), (-20.752252101, 19.196617182))
            ThreePointArc((-20.752252101, 19.196617182), (-20.33634973, 18.400083987), (-20.450329818, 17.508765608))
            ThreePointArc((-20.450329818, 17.508765608), (-21, 15), (-20.450329818, 12.491234392))
            ThreePointArc((-20.450329818, 12.491234392), (-20.33634973, 11.599916013), (-20.752252101, 10.803382818))
        make_face()
        with Locations((-26.6, 56.6)):
            Rectangle(SKETCH1_W, SKETCH1_H, mode=Mode.SUBTRACT)
        with Locations((-3.4, 56.6)):
            Rectangle(SKETCH1_W, SKETCH1_H, mode=Mode.SUBTRACT)
        with Locations((-26.6, 3.4)):
            Rectangle(SKETCH1_W, SKETCH1_H, mode=Mode.SUBTRACT)
        with Locations((-3.4, 3.4)):
            Rectangle(SKETCH1_W, SKETCH1_H, mode=Mode.SUBTRACT)
        with BuildLine():
            Line((-10.803382818, 39.247747899), (-6.294974747, 34.739339828))
            ThreePointArc((-6.294974747, 34.739339828), (-5.808339724, 34.414180701), (-5.234314575, 34.3))
            Line((-5.234314575, 34.3), (-2.2, 34.3))
            Line((-2.2, 34.3), (-2.2, 25.7))
            Line((-2.2, 25.7), (-5.234314575, 25.7))
            ThreePointArc((-5.234314575, 25.7), (-5.808339724, 25.585819299), (-6.294974747, 25.260660172))
            Line((-6.294974747, 25.260660172), (-10.803382818, 20.752252101))
            ThreePointArc((-10.803382818, 20.752252101), (-11.599916013, 20.33634973), (-12.491234392, 20.450329818))
            ThreePointArc((-12.491234392, 20.450329818), (-15, 21), (-17.508765608, 20.450329818))
            ThreePointArc((-17.508765608, 20.450329818), (-18.400083987, 20.33634973), (-19.196617182, 20.752252101))
            Line((-19.196617182, 20.752252101), (-23.705025253, 25.260660172))
            ThreePointArc((-23.705025253, 25.260660172), (-24.191660276, 25.585819299), (-24.765685425, 25.7))
            Line((-24.765685425, 25.7), (-27.8, 25.7))
            Line((-27.8, 25.7), (-27.8, 34.3))
            Line((-27.8, 34.3), (-24.765685425, 34.3))
            ThreePointArc((-24.765685425, 34.3), (-24.191660276, 34.414180701), (-23.705025253, 34.739339828))
            Line((-23.705025253, 34.739339828), (-19.196617182, 39.247747899))
            ThreePointArc((-19.196617182, 39.247747899), (-18.400083987, 39.66365027), (-17.508765608, 39.549670182))
            ThreePointArc((-17.508765608, 39.549670182), (-15, 39), (-12.491234392, 39.549670182))
            ThreePointArc((-12.491234392, 39.549670182), (-11.599916013, 39.66365027), (-10.803382818, 39.247747899))
        make_face(mode=Mode.SUBTRACT)
        with BuildLine():
            ThreePointArc((-17.802270236, 47.096969605), (-17.828427125, 47.828427125), (-17.096969605, 47.802270236))
            ThreePointArc((-17.096969605, 47.802270236), (-15, 48.5), (-12.903030395, 47.802270236))
            ThreePointArc((-12.903030395, 47.802270236), (-12.171572875, 47.828427125), (-12.197729764, 47.096969605))
            ThreePointArc((-12.197729764, 47.096969605), (-11.5, 45), (-12.197729764, 42.903030395))
            ThreePointArc((-12.197729764, 42.903030395), (-12.171572875, 42.171572875), (-12.903030395, 42.197729764))
            ThreePointArc((-12.903030395, 42.197729764), (-15, 41.5), (-17.096969605, 42.197729764))
            ThreePointArc((-17.096969605, 42.197729764), (-17.828427125, 42.171572875), (-17.802270236, 42.903030395))
            ThreePointArc((-17.802270236, 42.903030395), (-18.5, 45), (-17.802270236, 47.096969605))
        make_face(mode=Mode.SUBTRACT)
        with BuildLine():
            ThreePointArc((-12.903030395, 12.197729764), (-15, 11.5), (-17.096969605, 12.197729764))
            ThreePointArc((-17.096969605, 12.197729764), (-17.828427125, 12.171572875), (-17.802270236, 12.903030395))
            ThreePointArc((-17.802270236, 12.903030395), (-18.5, 15), (-17.802270236, 17.096969605))
            ThreePointArc((-17.802270236, 17.096969605), (-17.828427125, 17.828427125), (-17.096969605, 17.802270236))
            ThreePointArc((-17.096969605, 17.802270236), (-15, 18.5), (-12.903030395, 17.802270236))
            ThreePointArc((-12.903030395, 17.802270236), (-12.171572875, 17.828427125), (-12.197729764, 17.096969605))
            ThreePointArc((-12.197729764, 17.096969605), (-11.5, 15), (-12.197729764, 12.903030395))
            ThreePointArc((-12.197729764, 12.903030395), (-12.171572875, 12.171572875), (-12.903030395, 12.197729764))
        make_face(mode=Mode.SUBTRACT)
    extrude(amount=-BOSS_EXTRUDE1_DEPTH)


solid = part.part
